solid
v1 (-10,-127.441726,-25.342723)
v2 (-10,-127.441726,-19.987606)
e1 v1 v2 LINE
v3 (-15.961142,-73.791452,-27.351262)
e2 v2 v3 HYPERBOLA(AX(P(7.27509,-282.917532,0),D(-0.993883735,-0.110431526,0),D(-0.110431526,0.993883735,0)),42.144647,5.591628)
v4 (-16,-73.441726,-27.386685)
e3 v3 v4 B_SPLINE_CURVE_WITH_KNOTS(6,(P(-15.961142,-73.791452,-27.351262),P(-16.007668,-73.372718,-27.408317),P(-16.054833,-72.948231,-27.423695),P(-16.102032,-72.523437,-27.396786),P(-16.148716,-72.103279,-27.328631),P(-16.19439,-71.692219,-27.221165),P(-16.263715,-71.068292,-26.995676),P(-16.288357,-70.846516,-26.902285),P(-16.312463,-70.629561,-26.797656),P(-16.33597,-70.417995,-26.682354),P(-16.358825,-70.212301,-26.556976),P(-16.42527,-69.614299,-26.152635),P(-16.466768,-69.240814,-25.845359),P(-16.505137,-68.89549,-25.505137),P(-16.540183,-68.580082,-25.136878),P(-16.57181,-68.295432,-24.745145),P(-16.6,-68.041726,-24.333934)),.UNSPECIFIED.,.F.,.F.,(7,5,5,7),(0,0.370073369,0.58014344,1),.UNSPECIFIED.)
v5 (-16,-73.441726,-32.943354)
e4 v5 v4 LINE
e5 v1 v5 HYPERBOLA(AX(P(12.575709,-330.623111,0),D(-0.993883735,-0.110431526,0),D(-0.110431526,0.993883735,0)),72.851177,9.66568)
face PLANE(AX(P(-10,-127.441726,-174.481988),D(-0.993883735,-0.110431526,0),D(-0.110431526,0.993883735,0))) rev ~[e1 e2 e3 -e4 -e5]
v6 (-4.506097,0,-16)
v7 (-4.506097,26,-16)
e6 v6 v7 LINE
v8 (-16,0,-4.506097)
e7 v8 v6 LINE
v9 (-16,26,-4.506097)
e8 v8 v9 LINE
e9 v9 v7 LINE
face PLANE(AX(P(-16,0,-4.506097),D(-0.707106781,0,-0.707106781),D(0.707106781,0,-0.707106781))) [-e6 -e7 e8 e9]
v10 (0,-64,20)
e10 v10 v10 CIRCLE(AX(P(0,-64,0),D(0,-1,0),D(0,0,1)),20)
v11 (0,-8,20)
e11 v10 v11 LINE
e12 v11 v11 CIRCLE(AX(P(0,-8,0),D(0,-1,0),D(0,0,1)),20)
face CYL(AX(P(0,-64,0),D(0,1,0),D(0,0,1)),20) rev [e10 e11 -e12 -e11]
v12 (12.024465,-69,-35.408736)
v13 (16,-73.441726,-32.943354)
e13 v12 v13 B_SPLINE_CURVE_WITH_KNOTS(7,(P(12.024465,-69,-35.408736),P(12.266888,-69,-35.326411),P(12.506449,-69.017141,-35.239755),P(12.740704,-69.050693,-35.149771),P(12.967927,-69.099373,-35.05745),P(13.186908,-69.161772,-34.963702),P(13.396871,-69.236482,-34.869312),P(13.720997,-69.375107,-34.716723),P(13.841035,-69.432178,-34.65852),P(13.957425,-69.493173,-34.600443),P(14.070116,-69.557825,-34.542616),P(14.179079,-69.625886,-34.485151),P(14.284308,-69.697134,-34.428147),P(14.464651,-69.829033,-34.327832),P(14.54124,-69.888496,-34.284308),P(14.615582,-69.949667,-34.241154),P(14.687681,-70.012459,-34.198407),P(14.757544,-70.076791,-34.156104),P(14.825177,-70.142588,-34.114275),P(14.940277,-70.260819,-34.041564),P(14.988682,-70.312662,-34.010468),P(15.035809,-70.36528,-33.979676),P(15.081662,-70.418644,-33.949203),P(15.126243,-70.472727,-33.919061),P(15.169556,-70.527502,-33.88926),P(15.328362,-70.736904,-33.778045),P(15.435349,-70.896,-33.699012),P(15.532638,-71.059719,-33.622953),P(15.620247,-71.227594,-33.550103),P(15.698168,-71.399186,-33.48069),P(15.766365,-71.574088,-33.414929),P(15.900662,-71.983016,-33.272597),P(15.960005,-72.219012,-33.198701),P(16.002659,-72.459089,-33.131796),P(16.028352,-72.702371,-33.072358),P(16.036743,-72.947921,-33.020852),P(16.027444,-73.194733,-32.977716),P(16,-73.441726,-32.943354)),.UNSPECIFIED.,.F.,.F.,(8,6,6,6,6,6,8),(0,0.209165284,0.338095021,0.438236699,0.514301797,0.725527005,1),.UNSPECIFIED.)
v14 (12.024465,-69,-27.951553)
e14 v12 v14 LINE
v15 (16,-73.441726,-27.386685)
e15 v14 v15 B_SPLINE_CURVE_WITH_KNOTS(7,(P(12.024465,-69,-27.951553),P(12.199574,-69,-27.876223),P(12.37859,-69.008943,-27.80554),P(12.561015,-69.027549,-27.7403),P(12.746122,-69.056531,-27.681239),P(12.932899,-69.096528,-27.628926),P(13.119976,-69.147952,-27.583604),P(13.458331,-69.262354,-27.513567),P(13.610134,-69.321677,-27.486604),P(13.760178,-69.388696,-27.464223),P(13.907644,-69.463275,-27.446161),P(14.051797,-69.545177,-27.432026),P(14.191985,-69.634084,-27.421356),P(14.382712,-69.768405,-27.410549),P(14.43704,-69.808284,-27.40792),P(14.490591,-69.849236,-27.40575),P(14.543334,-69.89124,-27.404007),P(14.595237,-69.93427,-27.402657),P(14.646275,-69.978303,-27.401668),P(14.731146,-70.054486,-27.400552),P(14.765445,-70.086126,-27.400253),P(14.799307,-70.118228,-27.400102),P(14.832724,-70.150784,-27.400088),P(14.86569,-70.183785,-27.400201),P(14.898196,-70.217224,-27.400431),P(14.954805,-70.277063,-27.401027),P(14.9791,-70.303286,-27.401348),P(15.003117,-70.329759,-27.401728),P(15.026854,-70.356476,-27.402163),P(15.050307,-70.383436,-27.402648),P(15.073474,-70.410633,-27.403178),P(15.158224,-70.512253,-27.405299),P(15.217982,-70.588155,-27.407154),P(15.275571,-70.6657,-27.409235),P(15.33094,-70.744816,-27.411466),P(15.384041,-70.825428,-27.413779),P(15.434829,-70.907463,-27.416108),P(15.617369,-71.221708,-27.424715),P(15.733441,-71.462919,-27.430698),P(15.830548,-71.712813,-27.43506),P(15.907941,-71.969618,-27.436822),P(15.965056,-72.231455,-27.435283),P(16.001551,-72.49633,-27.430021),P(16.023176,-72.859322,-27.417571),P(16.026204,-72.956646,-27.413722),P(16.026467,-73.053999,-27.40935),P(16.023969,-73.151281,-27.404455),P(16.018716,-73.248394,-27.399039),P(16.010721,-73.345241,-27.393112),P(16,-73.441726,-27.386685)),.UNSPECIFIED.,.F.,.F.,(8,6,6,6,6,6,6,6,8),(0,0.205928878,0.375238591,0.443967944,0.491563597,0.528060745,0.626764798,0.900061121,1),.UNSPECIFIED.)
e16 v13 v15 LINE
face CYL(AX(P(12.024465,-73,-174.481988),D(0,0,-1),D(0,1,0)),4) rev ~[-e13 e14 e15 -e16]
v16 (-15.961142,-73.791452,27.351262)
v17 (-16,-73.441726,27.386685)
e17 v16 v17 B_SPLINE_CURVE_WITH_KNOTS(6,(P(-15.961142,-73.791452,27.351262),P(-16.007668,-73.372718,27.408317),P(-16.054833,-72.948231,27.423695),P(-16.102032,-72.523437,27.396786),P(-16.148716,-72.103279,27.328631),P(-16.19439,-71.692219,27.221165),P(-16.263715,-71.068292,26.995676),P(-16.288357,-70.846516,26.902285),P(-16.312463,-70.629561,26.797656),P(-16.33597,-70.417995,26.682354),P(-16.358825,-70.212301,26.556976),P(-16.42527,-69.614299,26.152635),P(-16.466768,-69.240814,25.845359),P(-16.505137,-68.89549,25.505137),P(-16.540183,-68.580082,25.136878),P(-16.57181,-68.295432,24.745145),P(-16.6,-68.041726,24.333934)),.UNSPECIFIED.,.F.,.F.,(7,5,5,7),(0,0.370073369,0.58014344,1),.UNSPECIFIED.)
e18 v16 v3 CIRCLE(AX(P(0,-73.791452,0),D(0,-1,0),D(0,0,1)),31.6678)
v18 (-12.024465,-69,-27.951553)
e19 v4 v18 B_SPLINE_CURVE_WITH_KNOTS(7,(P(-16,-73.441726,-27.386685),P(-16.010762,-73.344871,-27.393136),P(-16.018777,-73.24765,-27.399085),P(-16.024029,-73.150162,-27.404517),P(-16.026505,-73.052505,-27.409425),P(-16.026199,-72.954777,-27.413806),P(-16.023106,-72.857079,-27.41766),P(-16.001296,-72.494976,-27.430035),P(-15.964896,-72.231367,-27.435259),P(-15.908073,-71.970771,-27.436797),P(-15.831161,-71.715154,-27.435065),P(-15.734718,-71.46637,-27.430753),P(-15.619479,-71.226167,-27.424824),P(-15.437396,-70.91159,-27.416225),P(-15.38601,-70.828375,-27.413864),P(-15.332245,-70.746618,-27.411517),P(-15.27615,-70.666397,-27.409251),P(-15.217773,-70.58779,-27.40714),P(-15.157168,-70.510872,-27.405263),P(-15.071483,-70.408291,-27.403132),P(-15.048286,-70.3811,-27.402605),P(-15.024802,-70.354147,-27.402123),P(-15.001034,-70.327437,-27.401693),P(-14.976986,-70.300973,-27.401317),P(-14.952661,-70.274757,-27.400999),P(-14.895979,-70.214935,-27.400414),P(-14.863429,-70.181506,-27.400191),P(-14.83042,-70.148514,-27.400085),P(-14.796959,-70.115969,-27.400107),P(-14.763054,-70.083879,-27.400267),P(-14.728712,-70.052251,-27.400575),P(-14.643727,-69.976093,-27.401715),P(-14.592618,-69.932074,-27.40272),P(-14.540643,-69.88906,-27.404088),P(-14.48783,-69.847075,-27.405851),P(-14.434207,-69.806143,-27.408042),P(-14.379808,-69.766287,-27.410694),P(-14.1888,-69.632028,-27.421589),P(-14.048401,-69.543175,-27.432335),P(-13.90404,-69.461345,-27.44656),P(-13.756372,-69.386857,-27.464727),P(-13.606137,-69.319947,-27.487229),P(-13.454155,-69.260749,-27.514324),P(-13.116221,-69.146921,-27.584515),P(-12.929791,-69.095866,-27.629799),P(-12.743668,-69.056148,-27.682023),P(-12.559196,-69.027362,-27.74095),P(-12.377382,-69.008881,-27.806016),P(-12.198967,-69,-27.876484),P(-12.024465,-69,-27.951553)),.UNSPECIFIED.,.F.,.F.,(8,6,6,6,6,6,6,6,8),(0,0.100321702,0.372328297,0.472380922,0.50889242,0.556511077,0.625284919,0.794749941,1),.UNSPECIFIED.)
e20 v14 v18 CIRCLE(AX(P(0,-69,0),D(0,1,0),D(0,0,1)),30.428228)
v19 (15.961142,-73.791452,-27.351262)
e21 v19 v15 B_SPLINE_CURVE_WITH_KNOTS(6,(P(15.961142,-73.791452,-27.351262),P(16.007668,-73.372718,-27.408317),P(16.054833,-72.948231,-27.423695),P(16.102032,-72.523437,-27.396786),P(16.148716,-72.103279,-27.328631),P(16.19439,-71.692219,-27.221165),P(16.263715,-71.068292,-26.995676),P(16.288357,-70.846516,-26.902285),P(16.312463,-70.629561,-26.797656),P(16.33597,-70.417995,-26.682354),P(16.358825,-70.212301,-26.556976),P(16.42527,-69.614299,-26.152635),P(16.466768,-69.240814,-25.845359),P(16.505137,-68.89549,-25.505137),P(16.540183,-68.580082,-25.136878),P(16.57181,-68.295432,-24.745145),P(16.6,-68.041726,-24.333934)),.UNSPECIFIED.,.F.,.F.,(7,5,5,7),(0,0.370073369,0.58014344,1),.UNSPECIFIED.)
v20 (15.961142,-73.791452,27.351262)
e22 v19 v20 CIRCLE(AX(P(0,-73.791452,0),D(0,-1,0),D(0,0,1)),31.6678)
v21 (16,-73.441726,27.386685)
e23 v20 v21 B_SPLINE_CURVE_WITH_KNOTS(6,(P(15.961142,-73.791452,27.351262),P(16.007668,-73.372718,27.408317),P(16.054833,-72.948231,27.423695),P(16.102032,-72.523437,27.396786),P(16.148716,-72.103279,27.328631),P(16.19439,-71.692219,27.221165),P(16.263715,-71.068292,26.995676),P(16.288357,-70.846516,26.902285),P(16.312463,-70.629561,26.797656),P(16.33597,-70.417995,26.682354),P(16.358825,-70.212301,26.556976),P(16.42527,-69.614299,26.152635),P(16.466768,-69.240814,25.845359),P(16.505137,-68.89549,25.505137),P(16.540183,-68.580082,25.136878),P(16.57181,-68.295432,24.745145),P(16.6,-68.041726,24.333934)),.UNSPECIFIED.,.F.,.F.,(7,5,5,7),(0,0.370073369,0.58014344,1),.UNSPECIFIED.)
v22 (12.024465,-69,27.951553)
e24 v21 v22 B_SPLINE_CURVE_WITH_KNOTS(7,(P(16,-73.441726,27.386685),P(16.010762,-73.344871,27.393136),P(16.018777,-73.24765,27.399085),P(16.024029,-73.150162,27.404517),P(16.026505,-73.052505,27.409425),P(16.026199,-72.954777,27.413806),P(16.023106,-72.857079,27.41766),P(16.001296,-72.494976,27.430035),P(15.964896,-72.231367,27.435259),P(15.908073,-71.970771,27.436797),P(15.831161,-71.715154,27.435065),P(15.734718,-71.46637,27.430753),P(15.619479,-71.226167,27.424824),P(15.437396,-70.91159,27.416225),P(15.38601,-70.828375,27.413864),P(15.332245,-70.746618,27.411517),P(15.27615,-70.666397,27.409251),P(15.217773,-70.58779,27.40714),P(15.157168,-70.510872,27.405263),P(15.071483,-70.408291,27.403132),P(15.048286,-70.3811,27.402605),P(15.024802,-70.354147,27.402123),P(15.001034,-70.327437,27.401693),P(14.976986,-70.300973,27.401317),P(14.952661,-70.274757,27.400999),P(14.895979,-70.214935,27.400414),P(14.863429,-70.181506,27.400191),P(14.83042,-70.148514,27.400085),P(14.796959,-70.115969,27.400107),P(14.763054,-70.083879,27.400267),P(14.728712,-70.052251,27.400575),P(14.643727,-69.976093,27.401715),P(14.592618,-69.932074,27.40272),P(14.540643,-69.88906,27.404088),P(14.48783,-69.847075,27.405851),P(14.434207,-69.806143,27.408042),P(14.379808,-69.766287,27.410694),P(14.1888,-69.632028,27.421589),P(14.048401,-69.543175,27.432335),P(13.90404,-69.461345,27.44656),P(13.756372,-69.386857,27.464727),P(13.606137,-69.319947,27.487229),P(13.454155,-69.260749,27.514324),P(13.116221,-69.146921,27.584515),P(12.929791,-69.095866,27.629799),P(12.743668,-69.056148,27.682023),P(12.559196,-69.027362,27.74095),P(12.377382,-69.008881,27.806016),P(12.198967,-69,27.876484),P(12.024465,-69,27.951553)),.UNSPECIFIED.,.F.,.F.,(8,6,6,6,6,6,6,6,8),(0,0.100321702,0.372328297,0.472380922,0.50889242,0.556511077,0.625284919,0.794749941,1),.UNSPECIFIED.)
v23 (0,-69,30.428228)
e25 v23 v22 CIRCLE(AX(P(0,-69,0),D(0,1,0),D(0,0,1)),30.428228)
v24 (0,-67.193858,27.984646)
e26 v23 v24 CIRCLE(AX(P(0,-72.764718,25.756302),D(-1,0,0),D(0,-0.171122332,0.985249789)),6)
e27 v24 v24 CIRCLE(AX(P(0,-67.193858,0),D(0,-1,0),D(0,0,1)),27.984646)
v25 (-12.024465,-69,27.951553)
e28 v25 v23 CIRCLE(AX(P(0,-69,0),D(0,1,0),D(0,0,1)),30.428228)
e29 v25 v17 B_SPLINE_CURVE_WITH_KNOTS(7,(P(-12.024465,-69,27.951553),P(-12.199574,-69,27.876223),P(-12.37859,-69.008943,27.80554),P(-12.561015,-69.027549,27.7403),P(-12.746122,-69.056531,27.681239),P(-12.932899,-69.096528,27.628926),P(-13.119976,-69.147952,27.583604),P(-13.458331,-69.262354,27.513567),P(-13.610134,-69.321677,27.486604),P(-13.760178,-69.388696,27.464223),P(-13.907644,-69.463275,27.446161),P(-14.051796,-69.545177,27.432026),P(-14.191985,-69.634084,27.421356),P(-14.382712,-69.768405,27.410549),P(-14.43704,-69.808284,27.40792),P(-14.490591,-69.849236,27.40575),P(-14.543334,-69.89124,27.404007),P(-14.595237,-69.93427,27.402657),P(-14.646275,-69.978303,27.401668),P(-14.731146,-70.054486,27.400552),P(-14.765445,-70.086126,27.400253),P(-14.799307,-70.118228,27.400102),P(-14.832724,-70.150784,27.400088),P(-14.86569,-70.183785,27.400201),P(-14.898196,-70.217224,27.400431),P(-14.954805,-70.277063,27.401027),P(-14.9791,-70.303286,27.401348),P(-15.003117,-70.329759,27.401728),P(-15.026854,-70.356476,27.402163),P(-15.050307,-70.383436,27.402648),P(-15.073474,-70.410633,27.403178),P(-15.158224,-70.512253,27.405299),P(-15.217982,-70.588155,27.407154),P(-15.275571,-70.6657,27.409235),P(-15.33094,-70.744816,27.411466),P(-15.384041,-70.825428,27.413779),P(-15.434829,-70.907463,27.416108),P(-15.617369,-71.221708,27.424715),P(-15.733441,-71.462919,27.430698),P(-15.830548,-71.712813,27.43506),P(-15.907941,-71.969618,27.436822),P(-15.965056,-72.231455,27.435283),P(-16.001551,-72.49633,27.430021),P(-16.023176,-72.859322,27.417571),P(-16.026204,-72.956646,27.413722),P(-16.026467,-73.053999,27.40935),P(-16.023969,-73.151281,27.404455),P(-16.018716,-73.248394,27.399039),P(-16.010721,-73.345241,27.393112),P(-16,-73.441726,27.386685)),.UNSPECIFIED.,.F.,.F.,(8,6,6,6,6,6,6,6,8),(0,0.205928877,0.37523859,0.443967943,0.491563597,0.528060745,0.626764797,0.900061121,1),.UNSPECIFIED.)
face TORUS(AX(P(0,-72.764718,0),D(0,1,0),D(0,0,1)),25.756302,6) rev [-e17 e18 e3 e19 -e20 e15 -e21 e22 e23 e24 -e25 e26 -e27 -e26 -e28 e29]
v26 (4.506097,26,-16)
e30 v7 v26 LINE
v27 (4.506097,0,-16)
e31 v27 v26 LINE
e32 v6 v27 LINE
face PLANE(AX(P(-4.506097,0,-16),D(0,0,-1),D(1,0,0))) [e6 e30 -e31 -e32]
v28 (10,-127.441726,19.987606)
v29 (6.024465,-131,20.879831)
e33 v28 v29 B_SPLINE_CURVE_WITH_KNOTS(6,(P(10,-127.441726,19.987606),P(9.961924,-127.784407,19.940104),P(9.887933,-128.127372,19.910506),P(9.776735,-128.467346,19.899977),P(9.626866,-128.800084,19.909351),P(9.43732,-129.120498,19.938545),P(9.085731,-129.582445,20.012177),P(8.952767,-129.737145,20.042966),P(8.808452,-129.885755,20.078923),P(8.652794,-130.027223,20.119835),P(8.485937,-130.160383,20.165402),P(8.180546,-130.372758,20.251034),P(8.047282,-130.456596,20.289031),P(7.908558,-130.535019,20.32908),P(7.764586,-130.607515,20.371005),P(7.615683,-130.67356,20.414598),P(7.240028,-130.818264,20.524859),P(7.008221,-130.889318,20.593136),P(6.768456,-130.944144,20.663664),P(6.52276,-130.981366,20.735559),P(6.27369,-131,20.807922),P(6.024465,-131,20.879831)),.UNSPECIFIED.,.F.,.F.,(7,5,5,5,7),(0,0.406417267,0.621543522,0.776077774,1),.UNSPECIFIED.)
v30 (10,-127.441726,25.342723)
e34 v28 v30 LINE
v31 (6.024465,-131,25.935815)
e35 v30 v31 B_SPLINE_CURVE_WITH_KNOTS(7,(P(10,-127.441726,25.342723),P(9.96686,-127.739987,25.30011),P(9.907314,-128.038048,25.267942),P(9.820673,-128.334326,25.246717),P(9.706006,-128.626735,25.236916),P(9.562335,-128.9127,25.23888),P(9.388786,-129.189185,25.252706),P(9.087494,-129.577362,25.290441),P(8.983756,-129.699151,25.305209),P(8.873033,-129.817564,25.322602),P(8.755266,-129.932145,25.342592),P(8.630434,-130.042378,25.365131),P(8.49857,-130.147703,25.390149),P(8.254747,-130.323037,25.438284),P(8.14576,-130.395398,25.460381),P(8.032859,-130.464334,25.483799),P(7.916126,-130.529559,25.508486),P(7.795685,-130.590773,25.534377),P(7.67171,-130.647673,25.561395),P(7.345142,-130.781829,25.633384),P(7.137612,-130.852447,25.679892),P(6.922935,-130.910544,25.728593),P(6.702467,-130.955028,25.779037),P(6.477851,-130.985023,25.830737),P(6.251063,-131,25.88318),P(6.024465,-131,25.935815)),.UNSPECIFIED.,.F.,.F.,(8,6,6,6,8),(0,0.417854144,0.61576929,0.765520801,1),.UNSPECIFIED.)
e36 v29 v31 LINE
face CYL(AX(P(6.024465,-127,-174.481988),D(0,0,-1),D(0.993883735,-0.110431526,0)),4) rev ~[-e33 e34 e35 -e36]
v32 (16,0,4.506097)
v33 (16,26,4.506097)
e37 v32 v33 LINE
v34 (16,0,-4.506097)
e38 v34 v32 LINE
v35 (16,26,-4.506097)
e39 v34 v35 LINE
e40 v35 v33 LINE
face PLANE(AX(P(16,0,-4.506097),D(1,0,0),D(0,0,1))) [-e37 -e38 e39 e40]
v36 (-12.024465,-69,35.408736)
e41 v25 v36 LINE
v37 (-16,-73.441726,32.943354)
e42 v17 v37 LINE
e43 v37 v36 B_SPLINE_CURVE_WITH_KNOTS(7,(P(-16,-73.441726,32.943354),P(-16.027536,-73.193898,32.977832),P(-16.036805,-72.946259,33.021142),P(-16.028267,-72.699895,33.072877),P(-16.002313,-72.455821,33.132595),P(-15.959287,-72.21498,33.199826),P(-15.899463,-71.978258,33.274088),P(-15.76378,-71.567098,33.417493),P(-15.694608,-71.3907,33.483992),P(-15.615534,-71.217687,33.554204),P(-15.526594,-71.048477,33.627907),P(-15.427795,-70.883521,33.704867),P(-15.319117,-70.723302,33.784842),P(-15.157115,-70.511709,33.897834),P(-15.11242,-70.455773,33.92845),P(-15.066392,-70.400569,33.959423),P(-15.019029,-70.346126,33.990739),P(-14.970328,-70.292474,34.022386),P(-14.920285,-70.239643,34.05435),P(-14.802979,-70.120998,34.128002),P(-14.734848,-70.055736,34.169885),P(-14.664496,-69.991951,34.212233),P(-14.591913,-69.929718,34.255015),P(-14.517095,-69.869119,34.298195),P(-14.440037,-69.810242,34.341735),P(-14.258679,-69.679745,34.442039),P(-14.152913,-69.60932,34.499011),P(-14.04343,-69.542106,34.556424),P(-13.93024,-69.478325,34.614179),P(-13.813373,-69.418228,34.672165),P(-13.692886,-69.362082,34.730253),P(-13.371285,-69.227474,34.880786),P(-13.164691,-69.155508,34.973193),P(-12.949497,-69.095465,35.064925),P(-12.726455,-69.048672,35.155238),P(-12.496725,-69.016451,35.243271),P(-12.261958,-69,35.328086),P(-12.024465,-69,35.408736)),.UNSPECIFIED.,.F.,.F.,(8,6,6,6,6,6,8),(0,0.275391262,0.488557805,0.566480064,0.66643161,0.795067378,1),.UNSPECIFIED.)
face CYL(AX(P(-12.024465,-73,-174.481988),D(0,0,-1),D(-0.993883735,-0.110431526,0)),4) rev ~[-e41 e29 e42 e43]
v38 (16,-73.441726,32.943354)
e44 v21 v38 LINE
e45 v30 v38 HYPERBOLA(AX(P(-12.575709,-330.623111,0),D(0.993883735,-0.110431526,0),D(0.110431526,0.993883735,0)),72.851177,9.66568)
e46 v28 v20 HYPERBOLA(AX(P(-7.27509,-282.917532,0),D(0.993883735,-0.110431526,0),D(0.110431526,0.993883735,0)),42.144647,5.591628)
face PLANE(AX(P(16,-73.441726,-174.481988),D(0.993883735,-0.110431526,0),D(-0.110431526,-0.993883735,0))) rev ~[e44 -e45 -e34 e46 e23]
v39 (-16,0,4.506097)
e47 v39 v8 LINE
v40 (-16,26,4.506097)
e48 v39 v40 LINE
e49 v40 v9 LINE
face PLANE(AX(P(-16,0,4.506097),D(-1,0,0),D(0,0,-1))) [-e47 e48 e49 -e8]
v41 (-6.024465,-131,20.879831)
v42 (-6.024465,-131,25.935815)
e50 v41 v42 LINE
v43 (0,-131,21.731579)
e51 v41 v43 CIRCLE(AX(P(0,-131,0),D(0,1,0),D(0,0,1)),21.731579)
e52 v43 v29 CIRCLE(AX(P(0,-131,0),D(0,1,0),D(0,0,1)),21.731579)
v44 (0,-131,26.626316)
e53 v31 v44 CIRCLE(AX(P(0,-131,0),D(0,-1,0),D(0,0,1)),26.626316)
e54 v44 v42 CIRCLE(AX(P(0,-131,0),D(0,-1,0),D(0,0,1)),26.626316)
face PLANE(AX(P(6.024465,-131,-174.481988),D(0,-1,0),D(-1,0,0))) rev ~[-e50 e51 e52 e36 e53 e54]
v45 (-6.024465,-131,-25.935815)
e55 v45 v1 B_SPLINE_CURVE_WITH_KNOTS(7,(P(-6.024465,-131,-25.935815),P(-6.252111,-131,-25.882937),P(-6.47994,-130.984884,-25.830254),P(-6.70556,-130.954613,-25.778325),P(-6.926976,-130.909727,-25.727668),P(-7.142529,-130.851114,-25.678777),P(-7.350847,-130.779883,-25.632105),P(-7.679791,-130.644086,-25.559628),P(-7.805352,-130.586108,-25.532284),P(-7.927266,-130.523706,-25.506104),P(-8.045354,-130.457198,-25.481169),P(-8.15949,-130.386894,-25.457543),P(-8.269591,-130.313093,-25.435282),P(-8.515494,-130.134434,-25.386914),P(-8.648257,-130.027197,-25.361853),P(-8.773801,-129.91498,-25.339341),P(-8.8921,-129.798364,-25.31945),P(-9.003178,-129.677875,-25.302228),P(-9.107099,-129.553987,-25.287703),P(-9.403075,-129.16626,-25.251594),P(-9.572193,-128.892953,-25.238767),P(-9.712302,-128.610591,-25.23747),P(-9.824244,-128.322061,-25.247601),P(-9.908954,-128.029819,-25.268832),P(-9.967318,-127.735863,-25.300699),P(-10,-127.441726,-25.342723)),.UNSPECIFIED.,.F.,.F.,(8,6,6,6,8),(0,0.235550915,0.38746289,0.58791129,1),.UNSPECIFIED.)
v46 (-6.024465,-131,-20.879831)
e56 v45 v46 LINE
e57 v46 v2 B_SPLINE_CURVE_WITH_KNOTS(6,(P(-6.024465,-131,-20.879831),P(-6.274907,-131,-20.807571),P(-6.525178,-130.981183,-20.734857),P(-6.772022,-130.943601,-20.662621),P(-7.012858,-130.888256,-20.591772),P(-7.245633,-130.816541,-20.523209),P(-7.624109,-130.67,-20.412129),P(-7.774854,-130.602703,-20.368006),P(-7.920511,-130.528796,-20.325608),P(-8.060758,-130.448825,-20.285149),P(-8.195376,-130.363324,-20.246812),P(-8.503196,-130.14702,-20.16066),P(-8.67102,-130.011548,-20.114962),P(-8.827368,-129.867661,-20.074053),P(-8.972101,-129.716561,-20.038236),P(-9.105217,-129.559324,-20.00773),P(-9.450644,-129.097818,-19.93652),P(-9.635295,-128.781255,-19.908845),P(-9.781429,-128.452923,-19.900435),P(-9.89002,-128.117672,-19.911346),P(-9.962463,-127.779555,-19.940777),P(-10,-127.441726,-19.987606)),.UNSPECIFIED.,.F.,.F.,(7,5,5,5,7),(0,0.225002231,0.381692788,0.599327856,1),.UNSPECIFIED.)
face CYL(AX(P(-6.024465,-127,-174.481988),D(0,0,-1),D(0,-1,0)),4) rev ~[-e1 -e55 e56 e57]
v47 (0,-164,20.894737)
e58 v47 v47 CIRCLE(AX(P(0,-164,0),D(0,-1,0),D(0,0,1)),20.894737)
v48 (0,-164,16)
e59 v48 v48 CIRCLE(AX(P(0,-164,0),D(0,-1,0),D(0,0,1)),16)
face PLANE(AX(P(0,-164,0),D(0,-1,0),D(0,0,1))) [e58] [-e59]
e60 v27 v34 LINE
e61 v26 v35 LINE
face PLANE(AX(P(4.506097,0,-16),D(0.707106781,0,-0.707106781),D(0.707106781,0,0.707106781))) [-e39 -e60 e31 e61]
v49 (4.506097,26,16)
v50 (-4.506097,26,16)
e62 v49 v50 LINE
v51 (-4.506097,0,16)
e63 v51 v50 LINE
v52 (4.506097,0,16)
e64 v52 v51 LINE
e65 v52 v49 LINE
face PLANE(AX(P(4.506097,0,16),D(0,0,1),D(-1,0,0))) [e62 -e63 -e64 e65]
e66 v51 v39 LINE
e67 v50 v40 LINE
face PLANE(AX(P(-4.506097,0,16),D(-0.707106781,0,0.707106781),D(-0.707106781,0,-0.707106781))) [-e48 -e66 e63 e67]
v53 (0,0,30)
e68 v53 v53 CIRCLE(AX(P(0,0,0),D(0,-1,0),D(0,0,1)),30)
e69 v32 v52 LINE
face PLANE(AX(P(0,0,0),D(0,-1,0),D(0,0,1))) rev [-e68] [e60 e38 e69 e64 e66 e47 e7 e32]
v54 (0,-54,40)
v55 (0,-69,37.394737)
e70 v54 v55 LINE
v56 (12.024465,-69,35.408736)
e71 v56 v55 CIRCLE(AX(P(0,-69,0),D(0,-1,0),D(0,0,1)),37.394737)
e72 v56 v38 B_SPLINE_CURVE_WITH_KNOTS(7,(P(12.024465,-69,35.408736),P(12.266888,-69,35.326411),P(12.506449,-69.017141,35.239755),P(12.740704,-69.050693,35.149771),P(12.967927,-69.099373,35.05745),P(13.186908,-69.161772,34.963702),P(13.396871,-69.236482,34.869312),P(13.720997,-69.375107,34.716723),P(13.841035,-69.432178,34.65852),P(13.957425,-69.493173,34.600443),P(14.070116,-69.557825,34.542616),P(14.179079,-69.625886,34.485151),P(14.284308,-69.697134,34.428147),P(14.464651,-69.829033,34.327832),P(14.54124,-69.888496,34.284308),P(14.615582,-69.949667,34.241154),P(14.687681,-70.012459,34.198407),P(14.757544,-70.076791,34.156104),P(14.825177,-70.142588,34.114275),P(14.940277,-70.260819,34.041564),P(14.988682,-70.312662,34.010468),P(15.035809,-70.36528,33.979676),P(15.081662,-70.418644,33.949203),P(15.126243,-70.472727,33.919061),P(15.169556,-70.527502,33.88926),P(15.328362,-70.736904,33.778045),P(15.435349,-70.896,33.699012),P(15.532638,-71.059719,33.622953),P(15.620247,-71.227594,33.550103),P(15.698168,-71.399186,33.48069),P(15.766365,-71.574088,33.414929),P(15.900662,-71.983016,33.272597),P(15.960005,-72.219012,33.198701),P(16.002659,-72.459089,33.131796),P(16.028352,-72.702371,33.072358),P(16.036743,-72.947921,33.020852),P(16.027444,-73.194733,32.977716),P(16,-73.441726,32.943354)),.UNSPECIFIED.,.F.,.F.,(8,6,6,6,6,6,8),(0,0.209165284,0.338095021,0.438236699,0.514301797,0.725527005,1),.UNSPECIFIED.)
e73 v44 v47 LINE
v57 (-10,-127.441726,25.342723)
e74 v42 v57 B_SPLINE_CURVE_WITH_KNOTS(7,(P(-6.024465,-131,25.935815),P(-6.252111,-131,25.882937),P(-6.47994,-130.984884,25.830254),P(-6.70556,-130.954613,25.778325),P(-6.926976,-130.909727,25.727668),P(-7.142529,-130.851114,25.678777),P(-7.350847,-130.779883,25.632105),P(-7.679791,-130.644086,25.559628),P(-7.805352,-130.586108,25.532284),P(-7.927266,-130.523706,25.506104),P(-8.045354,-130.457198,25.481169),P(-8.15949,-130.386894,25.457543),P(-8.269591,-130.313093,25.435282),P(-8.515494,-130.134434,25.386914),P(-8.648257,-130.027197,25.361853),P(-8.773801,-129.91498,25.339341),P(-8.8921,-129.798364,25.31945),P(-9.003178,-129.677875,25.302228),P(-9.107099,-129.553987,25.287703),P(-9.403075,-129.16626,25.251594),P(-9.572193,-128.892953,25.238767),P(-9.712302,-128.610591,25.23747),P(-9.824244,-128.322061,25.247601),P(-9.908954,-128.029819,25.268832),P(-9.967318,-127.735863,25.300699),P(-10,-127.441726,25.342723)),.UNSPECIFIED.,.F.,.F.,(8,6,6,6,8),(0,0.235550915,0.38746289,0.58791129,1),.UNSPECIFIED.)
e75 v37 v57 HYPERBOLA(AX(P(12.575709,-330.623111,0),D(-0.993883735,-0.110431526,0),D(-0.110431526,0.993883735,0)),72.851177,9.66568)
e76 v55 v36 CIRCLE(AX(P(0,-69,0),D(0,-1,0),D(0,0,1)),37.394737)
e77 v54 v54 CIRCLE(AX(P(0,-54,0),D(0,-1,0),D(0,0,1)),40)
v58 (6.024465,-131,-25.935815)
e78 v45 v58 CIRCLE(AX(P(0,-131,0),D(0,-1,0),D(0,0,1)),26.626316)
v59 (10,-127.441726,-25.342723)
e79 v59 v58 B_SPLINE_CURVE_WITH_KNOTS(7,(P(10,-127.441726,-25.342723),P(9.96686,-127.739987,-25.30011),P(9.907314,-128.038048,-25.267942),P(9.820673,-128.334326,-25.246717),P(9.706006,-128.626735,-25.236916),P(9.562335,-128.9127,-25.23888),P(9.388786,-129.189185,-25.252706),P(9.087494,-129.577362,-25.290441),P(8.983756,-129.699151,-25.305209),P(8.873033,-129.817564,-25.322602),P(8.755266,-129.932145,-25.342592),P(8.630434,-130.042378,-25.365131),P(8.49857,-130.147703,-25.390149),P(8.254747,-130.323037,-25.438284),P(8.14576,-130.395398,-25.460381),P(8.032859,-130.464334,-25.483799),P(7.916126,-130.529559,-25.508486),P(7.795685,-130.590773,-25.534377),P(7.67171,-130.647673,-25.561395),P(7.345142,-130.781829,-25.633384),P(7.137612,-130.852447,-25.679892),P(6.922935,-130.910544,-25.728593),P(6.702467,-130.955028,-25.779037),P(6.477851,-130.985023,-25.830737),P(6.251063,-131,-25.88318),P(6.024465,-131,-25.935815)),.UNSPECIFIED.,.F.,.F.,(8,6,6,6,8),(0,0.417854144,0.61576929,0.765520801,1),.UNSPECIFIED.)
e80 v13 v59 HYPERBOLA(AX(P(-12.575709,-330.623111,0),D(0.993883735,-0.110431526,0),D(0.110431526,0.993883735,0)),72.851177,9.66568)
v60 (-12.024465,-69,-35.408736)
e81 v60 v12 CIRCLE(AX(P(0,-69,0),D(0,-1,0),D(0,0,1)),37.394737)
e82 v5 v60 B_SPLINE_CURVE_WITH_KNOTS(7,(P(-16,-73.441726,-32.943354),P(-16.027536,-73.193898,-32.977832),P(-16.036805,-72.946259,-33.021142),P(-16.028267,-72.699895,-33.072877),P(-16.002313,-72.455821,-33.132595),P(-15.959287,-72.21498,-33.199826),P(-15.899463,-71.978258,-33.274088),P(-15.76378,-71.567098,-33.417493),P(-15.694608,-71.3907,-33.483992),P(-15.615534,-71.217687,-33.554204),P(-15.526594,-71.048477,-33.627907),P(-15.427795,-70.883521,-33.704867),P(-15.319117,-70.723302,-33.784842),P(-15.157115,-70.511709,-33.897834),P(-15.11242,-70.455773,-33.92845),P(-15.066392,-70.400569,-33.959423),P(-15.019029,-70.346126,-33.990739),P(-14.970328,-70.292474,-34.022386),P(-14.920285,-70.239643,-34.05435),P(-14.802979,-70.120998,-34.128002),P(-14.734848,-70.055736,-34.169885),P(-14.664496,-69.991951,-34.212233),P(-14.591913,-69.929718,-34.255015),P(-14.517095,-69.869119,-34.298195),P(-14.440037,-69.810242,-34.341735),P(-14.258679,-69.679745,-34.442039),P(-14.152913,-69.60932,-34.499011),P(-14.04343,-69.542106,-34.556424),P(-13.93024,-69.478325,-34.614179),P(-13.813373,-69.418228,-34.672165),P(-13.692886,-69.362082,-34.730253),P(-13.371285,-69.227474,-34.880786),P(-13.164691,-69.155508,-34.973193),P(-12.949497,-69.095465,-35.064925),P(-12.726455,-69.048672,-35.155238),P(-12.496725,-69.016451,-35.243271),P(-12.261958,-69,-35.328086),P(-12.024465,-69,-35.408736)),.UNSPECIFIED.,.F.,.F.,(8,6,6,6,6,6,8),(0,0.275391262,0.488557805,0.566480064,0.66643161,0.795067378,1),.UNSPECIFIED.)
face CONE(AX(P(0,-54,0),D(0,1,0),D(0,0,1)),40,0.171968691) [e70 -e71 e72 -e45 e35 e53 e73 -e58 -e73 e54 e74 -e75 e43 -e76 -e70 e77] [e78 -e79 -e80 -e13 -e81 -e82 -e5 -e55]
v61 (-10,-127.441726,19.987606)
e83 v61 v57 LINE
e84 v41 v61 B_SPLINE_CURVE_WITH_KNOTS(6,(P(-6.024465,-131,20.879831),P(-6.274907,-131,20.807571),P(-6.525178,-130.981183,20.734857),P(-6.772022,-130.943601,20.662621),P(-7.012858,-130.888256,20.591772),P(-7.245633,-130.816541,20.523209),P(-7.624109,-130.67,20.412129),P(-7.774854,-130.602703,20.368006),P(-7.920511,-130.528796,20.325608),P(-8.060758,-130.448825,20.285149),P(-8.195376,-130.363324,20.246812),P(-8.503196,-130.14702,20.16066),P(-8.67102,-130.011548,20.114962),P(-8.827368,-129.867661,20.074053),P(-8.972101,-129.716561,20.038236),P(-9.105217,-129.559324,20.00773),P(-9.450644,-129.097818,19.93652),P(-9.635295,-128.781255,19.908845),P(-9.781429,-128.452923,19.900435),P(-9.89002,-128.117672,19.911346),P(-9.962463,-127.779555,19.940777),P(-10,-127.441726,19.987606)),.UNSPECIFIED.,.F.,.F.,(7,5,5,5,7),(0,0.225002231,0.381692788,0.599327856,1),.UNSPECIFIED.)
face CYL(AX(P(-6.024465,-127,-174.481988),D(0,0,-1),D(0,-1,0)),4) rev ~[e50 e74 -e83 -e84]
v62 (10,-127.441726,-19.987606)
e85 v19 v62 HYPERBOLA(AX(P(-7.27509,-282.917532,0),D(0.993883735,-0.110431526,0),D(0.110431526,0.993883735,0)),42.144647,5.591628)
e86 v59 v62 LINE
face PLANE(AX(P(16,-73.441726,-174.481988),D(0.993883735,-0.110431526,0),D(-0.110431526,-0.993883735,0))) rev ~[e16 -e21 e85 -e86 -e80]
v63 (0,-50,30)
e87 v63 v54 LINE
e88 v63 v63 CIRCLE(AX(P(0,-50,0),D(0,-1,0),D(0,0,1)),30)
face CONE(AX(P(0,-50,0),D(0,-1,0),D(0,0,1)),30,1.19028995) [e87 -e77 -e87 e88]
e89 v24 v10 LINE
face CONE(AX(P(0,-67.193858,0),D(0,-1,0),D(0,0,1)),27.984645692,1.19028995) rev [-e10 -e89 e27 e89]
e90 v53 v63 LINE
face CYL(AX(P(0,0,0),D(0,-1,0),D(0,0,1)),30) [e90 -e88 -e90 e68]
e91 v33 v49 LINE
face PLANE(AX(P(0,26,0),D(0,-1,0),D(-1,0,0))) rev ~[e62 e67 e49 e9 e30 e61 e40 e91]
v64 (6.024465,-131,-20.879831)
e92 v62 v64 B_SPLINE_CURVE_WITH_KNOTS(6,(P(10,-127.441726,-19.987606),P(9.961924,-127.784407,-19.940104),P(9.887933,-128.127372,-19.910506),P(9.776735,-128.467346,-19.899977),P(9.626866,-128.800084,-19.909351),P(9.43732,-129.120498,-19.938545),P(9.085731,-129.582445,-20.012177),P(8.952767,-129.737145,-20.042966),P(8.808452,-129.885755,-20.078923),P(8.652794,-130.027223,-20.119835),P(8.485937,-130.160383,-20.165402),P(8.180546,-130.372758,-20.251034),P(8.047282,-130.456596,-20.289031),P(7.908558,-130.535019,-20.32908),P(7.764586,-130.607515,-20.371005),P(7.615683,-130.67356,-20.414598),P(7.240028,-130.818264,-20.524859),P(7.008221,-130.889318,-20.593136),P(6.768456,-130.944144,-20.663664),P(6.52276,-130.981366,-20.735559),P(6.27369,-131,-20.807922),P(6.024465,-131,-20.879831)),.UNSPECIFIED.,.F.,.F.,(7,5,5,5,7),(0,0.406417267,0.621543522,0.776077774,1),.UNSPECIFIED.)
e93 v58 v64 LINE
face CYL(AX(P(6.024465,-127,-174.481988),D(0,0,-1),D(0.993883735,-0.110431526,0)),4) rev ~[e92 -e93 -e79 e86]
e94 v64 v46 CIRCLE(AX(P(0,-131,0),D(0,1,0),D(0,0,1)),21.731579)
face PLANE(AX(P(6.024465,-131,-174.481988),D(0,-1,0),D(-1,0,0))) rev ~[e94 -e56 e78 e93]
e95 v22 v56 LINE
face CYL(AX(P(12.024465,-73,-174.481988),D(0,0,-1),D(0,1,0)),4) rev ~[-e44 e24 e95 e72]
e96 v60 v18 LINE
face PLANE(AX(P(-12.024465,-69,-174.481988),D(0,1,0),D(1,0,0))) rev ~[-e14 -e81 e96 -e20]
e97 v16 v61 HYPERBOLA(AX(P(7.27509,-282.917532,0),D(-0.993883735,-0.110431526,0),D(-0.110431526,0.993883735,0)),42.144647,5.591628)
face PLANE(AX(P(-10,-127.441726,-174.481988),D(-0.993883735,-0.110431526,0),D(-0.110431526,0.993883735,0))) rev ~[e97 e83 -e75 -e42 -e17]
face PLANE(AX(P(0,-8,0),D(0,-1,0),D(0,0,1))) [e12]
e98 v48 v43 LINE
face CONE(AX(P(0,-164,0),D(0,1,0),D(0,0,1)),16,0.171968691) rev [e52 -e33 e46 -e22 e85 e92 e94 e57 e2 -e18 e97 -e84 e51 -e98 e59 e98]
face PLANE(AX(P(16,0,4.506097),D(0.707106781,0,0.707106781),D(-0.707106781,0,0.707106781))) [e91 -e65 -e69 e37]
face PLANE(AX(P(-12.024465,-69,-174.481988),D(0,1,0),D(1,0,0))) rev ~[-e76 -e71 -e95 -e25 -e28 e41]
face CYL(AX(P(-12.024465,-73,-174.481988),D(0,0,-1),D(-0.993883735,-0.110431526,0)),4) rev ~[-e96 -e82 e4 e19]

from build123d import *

# Parameters (mm, degrees)
BOSS_EXTRUDE1_DEPTH     = 26
CUT_EXTRUDE1_DEPTH      = 174.481987538
CUT_EXTRUDE1_DEPTH_BACK = 174.481987538


with BuildPart() as part:
    # Sketch1 → Revolve1 (revolve)
    with BuildSketch(Plane.XY, mode=Mode.PRIVATE) as revolve1_sk:
        with BuildLine():
            ThreePointArc((31.66780037, -73.791452413), (30.995225405, -69.840051309), (27.984645692, -67.193858277))
            Line((27.984645692, -67.193858277), (20, -64))
            Line((20, -64), (20, -8))
            Line((20, -8), (0, -8))
            Line((0, -8), (0, 0))
            Line((0, 0), (30, 0))
            Line((30, 0), (30, -50))
            Line((30, -50), (40, -54))
            Line((40, -54), (20.894736842, -164))
            Line((20.894736842, -164), (16, -164))
            Line((16, -164), (31.66780037, -73.791452413))
        make_face()
    revolve(revolve1_sk.sketch.rotate(Axis((0, 95.722418972, 0), (0, -1, 0)), 90), axis=Axis((0, 95.722418972, 0), (0, -1, 0)))

    # Sketch2 → Boss-Extrude1 (add)
    with BuildSketch(Plane(origin=(0, 0, 0), x_dir=(1, 0, 0), z_dir=(0, 1, 0))):
        Polygon((4.506096654, 16), (16, 4.506096654), (16, -4.506096654), (4.506096654, -16), (-4.506096654, -16), (-16, -4.506096654), (-16, 4.506096654), (-4.506096654, 16), align=None)
    extrude(amount=BOSS_EXTRUDE1_DEPTH)

    # Sketch3 → Cut-Extrude1 (cut, two sides: drawn at the far end of the back side and taken through both)
    with BuildSketch(Plane.XY.offset(-CUT_EXTRUDE1_DEPTH_BACK)):
        with BuildLine():
            Line((-12.024465061, -69), (12.024465061, -69))
            ThreePointArc((12.024465061, -69), (15.004977133, -70.332314151), (16, -73.441726104))
            Line((16, -73.441726104), (10, -127.441726104))
            ThreePointArc((10, -127.441726104), (8.692150911, -129.980512072), (6.024465061, -131))
            Line((6.024465061, -131), (-6.024465061, -131))
            ThreePointArc((-6.024465061, -131), (-8.692150911, -129.980512072), (-10, -127.441726104))
            Line((-10, -127.441726104), (-16, -73.441726104))
            ThreePointArc((-16, -73.441726104), (-15.004977133, -70.332314151), (-12.024465061, -69))
        make_face()
    extrude(amount=CUT_EXTRUDE1_DEPTH + CUT_EXTRUDE1_DEPTH_BACK, mode=Mode.SUBTRACT)


solid = part.part
